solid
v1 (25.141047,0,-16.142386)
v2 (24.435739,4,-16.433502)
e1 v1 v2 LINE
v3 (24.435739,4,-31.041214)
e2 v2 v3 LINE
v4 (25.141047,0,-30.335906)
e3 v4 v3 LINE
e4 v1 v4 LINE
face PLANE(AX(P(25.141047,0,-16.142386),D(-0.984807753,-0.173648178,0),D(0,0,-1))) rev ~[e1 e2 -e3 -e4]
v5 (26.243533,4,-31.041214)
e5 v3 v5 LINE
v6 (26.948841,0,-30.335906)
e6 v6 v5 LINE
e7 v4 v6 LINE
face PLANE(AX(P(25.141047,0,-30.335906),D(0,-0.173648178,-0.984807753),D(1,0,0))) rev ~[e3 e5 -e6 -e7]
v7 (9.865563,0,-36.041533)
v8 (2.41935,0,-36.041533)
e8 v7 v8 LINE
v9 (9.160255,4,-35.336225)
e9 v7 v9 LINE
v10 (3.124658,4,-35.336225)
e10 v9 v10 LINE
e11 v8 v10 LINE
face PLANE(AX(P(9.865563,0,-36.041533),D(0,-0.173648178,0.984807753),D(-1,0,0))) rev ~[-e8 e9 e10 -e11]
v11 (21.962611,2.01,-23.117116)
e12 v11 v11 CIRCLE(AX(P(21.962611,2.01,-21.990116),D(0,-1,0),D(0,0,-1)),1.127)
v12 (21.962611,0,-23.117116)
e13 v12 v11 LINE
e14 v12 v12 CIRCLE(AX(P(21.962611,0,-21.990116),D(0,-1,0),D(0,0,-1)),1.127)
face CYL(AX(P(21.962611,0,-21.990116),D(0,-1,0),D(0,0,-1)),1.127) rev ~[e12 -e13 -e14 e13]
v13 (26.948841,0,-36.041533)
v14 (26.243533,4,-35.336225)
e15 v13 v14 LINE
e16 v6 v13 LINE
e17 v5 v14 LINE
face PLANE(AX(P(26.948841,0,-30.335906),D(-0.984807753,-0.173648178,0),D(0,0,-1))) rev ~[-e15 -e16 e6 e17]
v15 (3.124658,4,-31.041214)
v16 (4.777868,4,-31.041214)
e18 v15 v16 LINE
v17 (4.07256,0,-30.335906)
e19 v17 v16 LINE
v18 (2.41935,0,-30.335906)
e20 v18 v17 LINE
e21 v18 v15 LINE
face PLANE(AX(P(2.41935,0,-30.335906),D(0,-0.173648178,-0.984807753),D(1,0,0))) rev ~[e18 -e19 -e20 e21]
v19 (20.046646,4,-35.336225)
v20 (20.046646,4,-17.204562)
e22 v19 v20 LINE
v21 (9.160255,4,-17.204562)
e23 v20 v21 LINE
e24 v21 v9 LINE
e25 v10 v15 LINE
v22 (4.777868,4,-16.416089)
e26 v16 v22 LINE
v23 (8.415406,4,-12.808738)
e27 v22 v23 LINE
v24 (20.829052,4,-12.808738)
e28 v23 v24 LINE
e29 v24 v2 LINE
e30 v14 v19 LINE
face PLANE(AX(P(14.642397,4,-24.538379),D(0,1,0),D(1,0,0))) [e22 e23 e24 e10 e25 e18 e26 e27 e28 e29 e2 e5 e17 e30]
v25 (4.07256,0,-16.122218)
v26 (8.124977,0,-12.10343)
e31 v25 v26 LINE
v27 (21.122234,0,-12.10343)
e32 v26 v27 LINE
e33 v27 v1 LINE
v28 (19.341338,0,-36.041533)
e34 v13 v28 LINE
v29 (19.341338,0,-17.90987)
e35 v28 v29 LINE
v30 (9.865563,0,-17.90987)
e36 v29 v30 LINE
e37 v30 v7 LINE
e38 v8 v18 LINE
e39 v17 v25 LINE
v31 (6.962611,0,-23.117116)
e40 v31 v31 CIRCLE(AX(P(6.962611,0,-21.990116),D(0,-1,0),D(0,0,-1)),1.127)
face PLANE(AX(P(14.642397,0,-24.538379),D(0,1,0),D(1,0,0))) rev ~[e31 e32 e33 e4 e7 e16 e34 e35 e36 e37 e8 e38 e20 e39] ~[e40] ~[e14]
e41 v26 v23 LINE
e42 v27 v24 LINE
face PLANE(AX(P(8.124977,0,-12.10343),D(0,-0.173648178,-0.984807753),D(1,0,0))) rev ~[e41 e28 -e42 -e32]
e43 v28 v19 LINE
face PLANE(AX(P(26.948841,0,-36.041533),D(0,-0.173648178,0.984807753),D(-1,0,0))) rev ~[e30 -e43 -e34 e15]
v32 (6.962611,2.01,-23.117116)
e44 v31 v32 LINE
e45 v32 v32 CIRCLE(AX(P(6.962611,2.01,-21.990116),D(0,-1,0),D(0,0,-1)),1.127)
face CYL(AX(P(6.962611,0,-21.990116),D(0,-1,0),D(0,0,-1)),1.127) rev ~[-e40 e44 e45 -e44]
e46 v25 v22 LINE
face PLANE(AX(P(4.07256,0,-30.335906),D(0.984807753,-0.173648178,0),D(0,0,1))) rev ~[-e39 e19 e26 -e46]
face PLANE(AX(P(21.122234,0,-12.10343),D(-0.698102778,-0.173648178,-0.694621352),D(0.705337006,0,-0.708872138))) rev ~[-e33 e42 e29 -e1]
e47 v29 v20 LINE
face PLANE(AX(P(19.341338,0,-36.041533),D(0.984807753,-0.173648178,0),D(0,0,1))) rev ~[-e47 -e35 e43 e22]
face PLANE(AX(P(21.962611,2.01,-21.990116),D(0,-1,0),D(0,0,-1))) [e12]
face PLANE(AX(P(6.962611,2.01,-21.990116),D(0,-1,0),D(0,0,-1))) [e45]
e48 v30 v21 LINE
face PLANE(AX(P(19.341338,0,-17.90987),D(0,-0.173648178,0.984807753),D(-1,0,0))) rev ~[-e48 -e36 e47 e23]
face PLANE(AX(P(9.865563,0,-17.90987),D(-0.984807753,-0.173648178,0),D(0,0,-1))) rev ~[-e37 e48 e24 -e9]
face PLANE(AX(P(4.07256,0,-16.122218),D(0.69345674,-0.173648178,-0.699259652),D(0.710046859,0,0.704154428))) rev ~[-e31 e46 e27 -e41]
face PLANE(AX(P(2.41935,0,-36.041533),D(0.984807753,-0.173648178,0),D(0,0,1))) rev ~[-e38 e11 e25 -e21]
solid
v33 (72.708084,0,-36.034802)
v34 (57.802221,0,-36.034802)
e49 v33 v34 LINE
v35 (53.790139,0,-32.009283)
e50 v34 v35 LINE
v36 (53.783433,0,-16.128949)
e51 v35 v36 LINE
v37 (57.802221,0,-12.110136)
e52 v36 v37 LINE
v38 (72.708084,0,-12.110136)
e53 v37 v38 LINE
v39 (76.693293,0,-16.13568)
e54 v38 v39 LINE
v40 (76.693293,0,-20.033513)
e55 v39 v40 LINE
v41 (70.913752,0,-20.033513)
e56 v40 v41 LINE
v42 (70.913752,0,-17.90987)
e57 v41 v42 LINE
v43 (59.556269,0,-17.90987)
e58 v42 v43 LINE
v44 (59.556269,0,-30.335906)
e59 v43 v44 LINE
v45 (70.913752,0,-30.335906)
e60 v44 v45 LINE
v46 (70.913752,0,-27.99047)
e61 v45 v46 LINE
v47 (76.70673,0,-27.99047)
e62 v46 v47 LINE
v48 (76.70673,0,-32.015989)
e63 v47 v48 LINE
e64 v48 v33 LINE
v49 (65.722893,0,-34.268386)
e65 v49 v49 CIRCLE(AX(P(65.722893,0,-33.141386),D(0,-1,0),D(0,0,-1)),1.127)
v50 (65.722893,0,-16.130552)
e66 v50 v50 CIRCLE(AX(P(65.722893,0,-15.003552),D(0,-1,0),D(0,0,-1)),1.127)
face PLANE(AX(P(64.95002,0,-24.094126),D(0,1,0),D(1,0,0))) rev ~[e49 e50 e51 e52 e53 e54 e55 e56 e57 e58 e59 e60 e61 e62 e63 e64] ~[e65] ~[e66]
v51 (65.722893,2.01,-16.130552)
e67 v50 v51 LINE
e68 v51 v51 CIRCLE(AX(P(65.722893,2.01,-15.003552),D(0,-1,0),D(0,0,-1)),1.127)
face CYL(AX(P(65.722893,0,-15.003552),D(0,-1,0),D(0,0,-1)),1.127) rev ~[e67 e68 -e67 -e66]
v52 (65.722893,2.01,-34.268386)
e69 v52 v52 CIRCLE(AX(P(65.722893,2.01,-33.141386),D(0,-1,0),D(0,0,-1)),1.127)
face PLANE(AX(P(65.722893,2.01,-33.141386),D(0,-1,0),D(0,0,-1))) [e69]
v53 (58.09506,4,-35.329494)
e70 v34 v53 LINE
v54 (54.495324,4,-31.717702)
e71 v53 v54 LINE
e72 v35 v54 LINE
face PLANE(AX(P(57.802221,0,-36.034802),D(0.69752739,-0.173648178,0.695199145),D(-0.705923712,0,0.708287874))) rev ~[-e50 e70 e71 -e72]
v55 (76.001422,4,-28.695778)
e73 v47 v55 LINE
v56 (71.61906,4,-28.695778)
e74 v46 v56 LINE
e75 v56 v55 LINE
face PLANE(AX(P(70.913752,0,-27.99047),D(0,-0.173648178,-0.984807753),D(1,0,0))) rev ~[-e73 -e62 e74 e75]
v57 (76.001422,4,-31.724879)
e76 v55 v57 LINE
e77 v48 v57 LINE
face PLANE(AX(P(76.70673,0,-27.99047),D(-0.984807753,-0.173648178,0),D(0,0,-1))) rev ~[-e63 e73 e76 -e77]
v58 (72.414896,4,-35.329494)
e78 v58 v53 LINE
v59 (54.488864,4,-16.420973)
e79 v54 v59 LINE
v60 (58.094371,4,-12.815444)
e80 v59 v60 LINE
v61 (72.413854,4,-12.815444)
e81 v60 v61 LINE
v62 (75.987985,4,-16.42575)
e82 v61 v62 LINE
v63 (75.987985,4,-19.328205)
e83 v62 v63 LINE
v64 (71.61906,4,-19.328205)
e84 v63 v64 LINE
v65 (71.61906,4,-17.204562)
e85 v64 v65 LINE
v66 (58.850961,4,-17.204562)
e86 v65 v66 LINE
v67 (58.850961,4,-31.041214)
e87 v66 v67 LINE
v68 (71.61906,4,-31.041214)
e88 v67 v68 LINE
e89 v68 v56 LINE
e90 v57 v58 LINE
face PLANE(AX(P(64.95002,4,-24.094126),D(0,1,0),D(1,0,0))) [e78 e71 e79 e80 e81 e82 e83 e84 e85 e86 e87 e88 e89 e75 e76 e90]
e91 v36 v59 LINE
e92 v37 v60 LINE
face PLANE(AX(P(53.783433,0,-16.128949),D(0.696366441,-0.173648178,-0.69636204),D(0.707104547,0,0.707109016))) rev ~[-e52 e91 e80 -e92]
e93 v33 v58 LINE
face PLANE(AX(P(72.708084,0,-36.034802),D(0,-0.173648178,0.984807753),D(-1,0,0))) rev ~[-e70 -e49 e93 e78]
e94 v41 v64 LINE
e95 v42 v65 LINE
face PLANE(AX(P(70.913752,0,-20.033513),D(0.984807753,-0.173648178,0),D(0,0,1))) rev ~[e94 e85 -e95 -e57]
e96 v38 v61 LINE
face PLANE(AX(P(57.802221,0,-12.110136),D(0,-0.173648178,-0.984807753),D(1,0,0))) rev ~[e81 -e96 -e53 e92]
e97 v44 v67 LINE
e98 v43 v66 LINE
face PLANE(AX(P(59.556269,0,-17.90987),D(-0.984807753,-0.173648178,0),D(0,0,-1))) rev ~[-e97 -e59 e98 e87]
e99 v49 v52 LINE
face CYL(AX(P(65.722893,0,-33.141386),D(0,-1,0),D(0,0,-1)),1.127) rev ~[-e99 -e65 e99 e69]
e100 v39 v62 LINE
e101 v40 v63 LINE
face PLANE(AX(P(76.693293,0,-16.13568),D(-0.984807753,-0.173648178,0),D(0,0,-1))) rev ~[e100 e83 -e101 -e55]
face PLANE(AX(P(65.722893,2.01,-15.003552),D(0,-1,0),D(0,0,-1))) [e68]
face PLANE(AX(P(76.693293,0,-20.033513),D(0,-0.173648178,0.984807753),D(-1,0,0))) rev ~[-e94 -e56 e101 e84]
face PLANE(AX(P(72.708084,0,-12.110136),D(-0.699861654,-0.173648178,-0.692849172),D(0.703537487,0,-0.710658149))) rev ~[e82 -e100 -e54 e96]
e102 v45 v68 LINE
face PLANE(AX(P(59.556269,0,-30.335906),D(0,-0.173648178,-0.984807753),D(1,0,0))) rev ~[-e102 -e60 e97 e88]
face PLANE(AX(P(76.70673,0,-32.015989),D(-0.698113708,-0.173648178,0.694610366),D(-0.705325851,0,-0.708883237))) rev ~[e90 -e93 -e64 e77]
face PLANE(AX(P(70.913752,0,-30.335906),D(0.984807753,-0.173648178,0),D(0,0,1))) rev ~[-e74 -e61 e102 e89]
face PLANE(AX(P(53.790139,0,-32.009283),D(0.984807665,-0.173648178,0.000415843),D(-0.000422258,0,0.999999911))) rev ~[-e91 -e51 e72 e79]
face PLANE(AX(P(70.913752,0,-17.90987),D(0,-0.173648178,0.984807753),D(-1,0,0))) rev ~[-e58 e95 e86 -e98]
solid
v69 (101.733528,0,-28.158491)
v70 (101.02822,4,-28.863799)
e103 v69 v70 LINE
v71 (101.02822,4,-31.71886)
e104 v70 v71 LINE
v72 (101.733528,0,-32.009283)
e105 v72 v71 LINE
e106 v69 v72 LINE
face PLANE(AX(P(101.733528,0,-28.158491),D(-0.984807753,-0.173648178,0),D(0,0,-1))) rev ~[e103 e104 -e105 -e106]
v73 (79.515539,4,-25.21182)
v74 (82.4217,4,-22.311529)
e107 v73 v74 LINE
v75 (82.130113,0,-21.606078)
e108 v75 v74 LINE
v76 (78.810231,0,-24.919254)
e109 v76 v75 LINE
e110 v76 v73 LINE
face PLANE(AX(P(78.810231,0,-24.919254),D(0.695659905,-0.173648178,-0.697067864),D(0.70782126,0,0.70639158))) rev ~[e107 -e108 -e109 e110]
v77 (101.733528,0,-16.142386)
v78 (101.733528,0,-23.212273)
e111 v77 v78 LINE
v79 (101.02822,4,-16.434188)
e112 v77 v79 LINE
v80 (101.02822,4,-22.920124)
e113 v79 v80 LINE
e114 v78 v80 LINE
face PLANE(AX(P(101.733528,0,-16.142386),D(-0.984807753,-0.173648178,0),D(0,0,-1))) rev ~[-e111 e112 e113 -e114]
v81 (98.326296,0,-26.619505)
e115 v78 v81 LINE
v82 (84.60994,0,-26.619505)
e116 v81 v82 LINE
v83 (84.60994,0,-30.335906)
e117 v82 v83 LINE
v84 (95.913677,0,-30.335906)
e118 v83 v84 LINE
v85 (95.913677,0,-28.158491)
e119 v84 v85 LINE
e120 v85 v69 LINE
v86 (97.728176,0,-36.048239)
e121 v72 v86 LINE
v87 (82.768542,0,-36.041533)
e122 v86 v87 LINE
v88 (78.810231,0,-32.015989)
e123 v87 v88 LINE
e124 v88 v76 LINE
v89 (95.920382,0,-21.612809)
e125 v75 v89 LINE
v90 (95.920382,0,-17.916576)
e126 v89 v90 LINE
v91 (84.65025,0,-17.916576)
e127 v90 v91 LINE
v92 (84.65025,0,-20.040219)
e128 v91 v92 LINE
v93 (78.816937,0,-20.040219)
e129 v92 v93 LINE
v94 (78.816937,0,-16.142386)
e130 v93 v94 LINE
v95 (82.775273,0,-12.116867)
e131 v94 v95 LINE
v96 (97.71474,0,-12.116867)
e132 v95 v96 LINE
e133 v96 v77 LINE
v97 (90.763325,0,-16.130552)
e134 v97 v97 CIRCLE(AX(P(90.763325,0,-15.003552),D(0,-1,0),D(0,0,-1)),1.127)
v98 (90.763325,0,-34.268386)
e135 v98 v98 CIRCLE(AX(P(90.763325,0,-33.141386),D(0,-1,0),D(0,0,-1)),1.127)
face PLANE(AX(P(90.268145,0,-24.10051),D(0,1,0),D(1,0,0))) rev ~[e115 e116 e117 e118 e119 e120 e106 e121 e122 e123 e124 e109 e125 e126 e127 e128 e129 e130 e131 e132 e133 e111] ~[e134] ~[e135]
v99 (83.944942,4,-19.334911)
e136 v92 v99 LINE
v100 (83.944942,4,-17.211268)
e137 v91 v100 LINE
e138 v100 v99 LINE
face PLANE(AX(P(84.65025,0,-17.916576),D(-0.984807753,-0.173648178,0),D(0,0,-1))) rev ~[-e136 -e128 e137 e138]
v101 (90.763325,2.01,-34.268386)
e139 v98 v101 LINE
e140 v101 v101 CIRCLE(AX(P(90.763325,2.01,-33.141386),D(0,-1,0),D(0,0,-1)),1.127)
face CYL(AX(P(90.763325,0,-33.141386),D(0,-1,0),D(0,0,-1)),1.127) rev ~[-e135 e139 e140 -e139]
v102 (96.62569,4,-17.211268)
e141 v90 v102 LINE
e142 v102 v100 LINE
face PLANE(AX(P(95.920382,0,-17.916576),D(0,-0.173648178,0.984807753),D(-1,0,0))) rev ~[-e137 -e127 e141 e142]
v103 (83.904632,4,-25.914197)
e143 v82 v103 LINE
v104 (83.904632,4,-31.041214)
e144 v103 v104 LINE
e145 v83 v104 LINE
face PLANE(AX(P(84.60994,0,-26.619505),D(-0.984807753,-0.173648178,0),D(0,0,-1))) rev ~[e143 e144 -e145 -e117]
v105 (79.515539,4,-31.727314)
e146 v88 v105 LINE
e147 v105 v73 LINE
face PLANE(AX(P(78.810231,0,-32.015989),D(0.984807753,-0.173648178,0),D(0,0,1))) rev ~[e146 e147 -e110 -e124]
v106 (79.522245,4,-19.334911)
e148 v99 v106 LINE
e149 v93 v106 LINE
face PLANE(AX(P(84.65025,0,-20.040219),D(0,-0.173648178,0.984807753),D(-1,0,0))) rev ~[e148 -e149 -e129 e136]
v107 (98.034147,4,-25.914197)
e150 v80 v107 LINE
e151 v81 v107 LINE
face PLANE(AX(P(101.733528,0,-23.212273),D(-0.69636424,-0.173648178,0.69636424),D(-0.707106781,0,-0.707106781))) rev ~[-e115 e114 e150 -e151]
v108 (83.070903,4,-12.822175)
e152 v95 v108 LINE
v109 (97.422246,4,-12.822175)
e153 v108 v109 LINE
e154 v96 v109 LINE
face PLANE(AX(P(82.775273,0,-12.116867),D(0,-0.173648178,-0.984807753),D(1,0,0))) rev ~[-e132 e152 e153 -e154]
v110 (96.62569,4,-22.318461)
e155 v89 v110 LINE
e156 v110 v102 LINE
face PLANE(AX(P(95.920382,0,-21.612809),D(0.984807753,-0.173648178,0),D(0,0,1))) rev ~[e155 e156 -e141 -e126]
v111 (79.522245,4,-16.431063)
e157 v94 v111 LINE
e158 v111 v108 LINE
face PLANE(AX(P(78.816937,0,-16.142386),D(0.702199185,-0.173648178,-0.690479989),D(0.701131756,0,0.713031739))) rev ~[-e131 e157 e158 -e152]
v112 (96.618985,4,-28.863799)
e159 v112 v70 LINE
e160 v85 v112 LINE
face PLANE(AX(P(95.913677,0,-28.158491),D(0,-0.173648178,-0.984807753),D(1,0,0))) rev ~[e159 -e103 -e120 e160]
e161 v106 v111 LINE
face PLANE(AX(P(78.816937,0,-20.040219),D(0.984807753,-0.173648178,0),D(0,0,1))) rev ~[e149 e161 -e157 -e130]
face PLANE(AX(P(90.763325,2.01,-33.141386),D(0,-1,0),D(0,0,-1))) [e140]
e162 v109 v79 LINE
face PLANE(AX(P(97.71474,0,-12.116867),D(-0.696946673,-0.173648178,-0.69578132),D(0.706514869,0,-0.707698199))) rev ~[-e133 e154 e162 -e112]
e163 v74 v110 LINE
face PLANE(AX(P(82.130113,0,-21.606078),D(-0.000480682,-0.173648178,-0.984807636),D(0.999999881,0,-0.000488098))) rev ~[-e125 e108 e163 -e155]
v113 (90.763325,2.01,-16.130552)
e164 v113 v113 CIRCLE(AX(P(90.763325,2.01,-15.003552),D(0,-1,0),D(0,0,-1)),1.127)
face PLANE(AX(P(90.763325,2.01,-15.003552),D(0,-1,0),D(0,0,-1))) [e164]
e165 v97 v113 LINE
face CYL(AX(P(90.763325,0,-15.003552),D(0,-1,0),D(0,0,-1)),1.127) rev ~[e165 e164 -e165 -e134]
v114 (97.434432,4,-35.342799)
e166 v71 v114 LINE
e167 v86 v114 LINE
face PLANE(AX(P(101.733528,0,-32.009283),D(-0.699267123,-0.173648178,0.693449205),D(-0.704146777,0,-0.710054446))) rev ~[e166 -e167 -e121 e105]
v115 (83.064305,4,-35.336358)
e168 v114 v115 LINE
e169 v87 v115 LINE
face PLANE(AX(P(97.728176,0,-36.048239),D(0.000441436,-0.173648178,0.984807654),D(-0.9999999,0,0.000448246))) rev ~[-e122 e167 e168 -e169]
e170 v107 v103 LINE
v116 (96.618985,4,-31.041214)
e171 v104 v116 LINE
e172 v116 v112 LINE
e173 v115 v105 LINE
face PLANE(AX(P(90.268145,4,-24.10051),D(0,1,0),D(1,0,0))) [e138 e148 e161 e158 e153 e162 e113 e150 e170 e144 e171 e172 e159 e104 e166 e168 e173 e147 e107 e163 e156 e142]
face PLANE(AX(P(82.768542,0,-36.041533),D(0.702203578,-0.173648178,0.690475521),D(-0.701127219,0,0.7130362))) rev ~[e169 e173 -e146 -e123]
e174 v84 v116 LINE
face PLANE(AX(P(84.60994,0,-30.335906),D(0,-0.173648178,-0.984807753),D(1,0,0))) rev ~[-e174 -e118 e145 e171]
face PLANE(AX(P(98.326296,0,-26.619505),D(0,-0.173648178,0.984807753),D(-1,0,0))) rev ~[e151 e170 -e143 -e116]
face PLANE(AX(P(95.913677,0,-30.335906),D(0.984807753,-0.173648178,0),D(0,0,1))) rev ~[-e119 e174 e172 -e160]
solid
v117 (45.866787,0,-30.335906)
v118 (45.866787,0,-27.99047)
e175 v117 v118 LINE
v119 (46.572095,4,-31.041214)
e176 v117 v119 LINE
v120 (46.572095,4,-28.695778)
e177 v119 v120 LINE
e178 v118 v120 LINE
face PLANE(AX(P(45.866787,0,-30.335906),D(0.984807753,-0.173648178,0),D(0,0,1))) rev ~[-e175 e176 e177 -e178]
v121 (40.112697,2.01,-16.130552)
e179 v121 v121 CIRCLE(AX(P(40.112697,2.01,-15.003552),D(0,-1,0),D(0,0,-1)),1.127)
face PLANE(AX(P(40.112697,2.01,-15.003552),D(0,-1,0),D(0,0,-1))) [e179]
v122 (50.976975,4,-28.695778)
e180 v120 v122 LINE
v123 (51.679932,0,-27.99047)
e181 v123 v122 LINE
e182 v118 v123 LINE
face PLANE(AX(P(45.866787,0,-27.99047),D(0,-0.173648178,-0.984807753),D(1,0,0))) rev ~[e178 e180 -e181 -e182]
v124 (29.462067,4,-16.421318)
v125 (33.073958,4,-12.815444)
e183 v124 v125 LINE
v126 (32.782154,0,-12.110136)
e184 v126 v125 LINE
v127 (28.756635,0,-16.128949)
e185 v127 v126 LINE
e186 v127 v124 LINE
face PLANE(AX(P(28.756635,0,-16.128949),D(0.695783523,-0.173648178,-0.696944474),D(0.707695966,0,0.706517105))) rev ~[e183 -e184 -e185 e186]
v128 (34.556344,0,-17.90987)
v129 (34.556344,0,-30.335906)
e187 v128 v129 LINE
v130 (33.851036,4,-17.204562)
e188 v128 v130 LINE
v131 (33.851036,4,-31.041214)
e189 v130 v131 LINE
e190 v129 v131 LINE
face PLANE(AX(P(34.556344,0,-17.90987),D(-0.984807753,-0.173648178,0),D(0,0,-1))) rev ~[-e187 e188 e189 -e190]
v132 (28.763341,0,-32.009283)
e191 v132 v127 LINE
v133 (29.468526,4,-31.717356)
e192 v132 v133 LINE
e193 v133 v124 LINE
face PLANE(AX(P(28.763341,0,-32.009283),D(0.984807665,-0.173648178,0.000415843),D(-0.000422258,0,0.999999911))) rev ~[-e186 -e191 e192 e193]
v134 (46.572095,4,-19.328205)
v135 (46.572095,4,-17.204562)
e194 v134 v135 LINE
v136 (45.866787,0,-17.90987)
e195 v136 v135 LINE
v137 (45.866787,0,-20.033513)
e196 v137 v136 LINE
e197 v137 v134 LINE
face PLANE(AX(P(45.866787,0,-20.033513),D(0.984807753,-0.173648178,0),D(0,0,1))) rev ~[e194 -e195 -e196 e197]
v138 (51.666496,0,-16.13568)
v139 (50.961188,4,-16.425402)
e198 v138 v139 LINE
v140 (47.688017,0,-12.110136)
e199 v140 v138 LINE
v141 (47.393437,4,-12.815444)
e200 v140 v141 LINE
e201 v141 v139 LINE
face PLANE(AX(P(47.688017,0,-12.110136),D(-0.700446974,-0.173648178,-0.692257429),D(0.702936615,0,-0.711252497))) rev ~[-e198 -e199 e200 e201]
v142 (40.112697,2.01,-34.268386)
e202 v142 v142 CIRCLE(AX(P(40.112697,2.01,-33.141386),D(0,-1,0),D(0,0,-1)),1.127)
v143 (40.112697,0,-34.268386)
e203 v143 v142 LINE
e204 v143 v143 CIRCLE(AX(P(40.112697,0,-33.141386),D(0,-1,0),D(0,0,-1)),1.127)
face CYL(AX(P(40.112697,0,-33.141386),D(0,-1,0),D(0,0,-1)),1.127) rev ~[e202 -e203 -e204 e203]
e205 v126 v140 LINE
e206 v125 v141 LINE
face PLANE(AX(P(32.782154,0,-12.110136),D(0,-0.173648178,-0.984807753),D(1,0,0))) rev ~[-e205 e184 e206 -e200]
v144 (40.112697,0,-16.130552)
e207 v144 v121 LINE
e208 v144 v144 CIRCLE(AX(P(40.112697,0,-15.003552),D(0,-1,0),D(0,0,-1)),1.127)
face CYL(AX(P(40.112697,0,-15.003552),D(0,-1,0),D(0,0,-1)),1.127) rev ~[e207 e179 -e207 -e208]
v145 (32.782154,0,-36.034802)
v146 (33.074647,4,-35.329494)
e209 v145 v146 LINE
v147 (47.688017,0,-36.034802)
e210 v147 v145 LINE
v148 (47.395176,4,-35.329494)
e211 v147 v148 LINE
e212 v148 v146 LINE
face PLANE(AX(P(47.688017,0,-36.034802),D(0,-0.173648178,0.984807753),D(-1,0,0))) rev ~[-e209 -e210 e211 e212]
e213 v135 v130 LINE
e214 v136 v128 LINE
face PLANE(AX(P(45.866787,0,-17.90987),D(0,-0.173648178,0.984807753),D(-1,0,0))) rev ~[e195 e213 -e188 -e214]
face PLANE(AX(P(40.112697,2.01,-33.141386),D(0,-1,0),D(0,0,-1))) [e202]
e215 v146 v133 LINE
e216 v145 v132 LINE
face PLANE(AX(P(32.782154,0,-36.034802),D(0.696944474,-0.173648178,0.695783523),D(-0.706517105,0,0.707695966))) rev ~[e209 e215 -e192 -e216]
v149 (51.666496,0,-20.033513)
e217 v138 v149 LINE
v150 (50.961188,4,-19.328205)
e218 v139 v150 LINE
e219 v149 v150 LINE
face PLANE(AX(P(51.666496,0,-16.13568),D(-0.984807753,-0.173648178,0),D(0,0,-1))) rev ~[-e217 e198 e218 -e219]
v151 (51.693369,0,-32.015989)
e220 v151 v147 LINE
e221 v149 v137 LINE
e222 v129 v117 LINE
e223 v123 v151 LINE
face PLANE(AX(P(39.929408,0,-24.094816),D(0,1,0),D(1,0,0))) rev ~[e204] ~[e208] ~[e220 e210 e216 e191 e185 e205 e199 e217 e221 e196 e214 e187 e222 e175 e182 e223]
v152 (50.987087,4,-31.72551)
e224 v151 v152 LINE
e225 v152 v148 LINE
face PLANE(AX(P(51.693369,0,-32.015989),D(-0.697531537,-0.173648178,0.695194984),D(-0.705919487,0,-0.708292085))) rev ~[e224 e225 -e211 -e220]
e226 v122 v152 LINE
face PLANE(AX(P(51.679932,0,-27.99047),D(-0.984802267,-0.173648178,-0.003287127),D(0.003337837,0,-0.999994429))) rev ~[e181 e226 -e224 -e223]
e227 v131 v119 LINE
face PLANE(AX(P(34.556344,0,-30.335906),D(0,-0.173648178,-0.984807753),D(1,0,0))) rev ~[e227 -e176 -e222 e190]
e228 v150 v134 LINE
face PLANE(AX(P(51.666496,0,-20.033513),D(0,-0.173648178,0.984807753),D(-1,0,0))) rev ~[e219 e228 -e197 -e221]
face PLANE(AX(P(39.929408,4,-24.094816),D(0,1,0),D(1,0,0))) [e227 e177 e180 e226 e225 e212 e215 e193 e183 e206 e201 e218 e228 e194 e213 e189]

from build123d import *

# Parameters (mm, degrees)
BOSS_EXTRUDE1_DEPTH           = 4
BOSS_EXTRUDE1_DRAFT           = 10
BOSS_EXTRUDE1_PROFILE_2_DEPTH = 4
BOSS_EXTRUDE1_PROFILE_2_DRAFT = 10
BOSS_EXTRUDE1_PROFILE_3_DEPTH = 4
BOSS_EXTRUDE1_PROFILE_3_DRAFT = 10
BOSS_EXTRUDE1_PROFILE_4_DEPTH = 4
BOSS_EXTRUDE1_PROFILE_4_DRAFT = 10
SKETCH3_R                     = 1.127
CUT_EXTRUDE1_DEPTH            = 2.01


with BuildPart() as part:
    # Sketch2 → Boss-Extrude1 (with draft: the straight prism first)
    with BuildSketch(Plane(origin=(0, 0, 0), x_dir=(1, 0, 0), z_dir=(0, 1, 0))):
        Polygon((97.7281764, 36.0482388), (82.7685416, 36.0415332), (78.810231, 32.0159888), (78.810231, 24.9192542), (82.1301126, 21.6060782), (95.9203822, 21.6128092), (95.9203822, 17.9165758), (84.6502498, 17.9165758), (84.6502498, 20.040219), (78.8169366, 20.040219), (78.8169366, 16.1423858), (82.7752726, 12.1168668), (97.7147398, 12.1168668), (101.7335278, 16.1423858), (101.7335278, 23.2122726), (98.3262956, 26.6195048), (84.60994, 26.6195048), (84.60994, 30.3359058), (95.9136766, 30.3359058), (95.9136766, 28.1584908), (101.7335278, 28.1584908), (101.7335278, 32.0092832), align=None)
    extrude(amount=BOSS_EXTRUDE1_DEPTH)
    # Boss-Extrude1: the draft: its side faces are tilted about the plane it starts from
    boss_extrude1_sides = [part.faces().sort_by_distance(p)[0] for p in [
        (90.248359, 2, -36.044886),
        (80.7893863, 2, -34.028761),
        (78.810231, 2, -28.4676215),
        (80.4701718, 2, -23.2626662),
        (89.0252474, 2, -21.6094437),
        (95.9203822, 2, -19.7646925),
        (90.285316, 2, -17.9165758),
        (84.6502498, 2, -18.9783974),
        (81.7335932, 2, -20.040219),
        (78.8169366, 2, -18.0913024),
        (80.7961046, 2, -14.1296263),
        (90.2450062, 2, -12.1168668),
        (99.7241338, 2, -14.1296263),
        (101.7335278, 2, -19.6773292),
        (100.0299117, 2, -24.9158887),
        (91.4681178, 2, -26.6195048),
        (84.60994, 2, -28.4777053),
        (90.2618083, 2, -30.3359058),
        (95.9136766, 2, -29.2471983),
        (98.8236022, 2, -28.1584908),
        (101.7335278, 2, -30.083887),
        (99.7308521, 2, -34.028761),
    ]]
    draft(boss_extrude1_sides, Plane(origin=(0, 0, 0), x_dir=(1, 0, 0), z_dir=(0, 1, 0)), BOSS_EXTRUDE1_DRAFT)


with BuildPart() as body_2:
    # Sketch2 → Boss-Extrude1 profile 2 (with draft: the straight prism first)
    with BuildSketch(Plane(origin=(0, 0, 0), x_dir=(1, 0, 0), z_dir=(0, 1, 0))):
        Polygon((72.7080842, 36.0348022), (57.8022212, 36.0348022), (53.7901388, 32.0092832), (53.7834332, 16.1289492), (57.8022212, 12.1101358), (72.7080842, 12.1101358), (76.6932934, 16.1356802), (76.6932934, 20.0335134), (70.913752, 20.0335134), (70.913752, 17.9098702), (59.556269, 17.9098702), (59.556269, 30.3359058), (70.913752, 30.3359058), (70.913752, 27.9904698), (76.70673, 27.9904698), (76.70673, 32.0159888), align=None)
    extrude(amount=BOSS_EXTRUDE1_PROFILE_2_DEPTH)
    # Boss-Extrude1 profile 2: the draft: its side faces are tilted about the plane it starts from
    boss_extrude1_profile_2_sides = [body_2.faces().sort_by_distance(p)[0] for p in [
        (65.2551527, 2, -36.0348022),
        (55.79618, 2, -34.0220427),
        (53.786786, 2, -24.0691162),
        (55.7928272, 2, -14.1195425),
        (65.2551527, 2, -12.1101358),
        (74.7006888, 2, -14.122908),
        (76.6932934, 2, -18.0845968),
        (73.8035227, 2, -20.0335134),
        (70.913752, 2, -18.9716918),
        (65.2350105, 2, -17.9098702),
        (59.556269, 2, -24.122888),
        (65.2350105, 2, -30.3359058),
        (70.913752, 2, -29.1631878),
        (73.810241, 2, -27.9904698),
        (76.70673, 2, -30.0032293),
        (74.7074071, 2, -34.0253955),
    ]]
    draft(boss_extrude1_profile_2_sides, Plane(origin=(0, 0, 0), x_dir=(1, 0, 0), z_dir=(0, 1, 0)), BOSS_EXTRUDE1_PROFILE_2_DRAFT)


with BuildPart() as body_3:
    # Sketch2 → Boss-Extrude1 profile 3 (with draft: the straight prism first)
    with BuildSketch(Plane(origin=(0, 0, 0), x_dir=(1, 0, 0), z_dir=(0, 1, 0))):
        Polygon((47.6880174, 36.0348022), (32.7821544, 36.0348022), (28.763341, 32.0092832), (28.7566354, 16.1289492), (32.7821544, 12.1101358), (47.6880174, 12.1101358), (51.6664956, 16.1356802), (51.6664956, 20.0335134), (45.8667866, 20.0335134), (45.8667866, 17.9098702), (34.5563444, 17.9098702), (34.5563444, 30.3359058), (45.8667866, 30.3359058), (45.8667866, 27.9904698), (51.6799322, 27.9904698), (51.6933688, 32.0159888), align=None)
    extrude(amount=BOSS_EXTRUDE1_PROFILE_3_DEPTH)
    # Boss-Extrude1 profile 3: the draft: its side faces are tilted about the plane it starts from
    boss_extrude1_profile_3_sides = [body_3.faces().sort_by_distance(p)[0] for p in [
        (40.2350859, 2, -36.0348022),
        (30.7727477, 2, -34.0220427),
        (28.7599882, 2, -24.0691162),
        (30.7693949, 2, -14.1195425),
        (40.2350859, 2, -12.1101358),
        (49.6772565, 2, -14.122908),
        (51.6664956, 2, -18.0845968),
        (48.7666411, 2, -20.0335134),
        (45.8667866, 2, -18.9716918),
        (40.2115655, 2, -17.9098702),
        (34.5563444, 2, -24.122888),
        (40.2115655, 2, -30.3359058),
        (45.8667866, 2, -29.1631878),
        (48.7733594, 2, -27.9904698),
        (51.6866505, 2, -30.0032293),
        (49.6906931, 2, -34.0253955),
    ]]
    draft(boss_extrude1_profile_3_sides, Plane(origin=(0, 0, 0), x_dir=(1, 0, 0), z_dir=(0, 1, 0)), BOSS_EXTRUDE1_PROFILE_3_DRAFT)


with BuildPart() as body_4:
    # Sketch2 → Boss-Extrude1 profile 4 (with draft: the straight prism first)
    with BuildSketch(Plane(origin=(0, 0, 0), x_dir=(1, 0, 0), z_dir=(0, 1, 0))):
        Polygon((26.9488412, 36.0415332), (19.341338, 36.0415332), (19.341338, 17.9098702), (9.8655632, 17.9098702), (9.8655632, 36.0415332), (2.41935, 36.0415332), (2.41935, 30.3359058), (4.0725598, 30.3359058), (4.0725598, 16.1222182), (8.1249774, 12.1034302), (21.1222336, 12.1034302), (25.141047, 16.1423858), (25.141047, 30.3359058), (26.9488412, 30.3359058), align=None)
    extrude(amount=BOSS_EXTRUDE1_PROFILE_4_DEPTH)
    # Boss-Extrude1 profile 4: the draft: its side faces are tilted about the plane it starts from
    boss_extrude1_profile_4_sides = [body_4.faces().sort_by_distance(p)[0] for p in [
        (23.1450896, 2, -36.0415332),
        (19.341338, 2, -26.9757017),
        (14.6034506, 2, -17.9098702),
        (9.8655632, 2, -26.9757017),
        (6.1424566, 2, -36.0415332),
        (2.41935, 2, -33.1887195),
        (3.2459549, 2, -30.3359058),
        (4.0725598, 2, -23.229062),
        (6.0987686, 2, -14.1128242),
        (14.6236055, 2, -12.1034302),
        (23.1316403, 2, -14.122908),
        (25.141047, 2, -23.2391458),
        (26.0449441, 2, -30.3359058),
        (26.9488412, 2, -33.1887195),
    ]]
    draft(boss_extrude1_profile_4_sides, Plane(origin=(0, 0, 0), x_dir=(1, 0, 0), z_dir=(0, 1, 0)), BOSS_EXTRUDE1_PROFILE_4_DRAFT)


with BuildPart() as cut_extrude1_tool:
    # Sketch3 → Cut-Extrude1 (new body)
    with BuildSketch(Plane.XZ):
        with Locations(Location((90.763324993, -33.141385623, 0), (0, 0, 270))):
            Circle(SKETCH3_R)
        with Locations(Location((90.763324993, -15.003552377, 0), (0, 0, 270))):
            Circle(SKETCH3_R)
        with Locations(Location((65.722893132, -15.003552377, 0), (0, 0, 270))):
            Circle(SKETCH3_R)
        with Locations(Location((65.722893132, -33.141385623, 0), (0, 0, 270))):
            Circle(SKETCH3_R)
        with Locations(Location((40.112697061, -33.141385623, 0), (0, 0, 270))):
            Circle(SKETCH3_R)
        with Locations(Location((40.112697061, -15.003552377, 0), (0, 0, 270))):
            Circle(SKETCH3_R)
        with Locations(Location((21.962610877, -21.990115777, 0), (0, 0, 270))):
            Circle(SKETCH3_R)
        with Locations(Location((6.962610877, -21.990115777, 0), (0, 0, 270))):
            Circle(SKETCH3_R)
    extrude(amount=-CUT_EXTRUDE1_DEPTH)


with BuildPart() as part_1:
    add(part.part)

    # Cut-Extrude1: cut by cut_extrude1_tool
    add(cut_extrude1_tool.part, mode=Mode.SUBTRACT)


with BuildPart() as body_2_1:
    add(body_2.part)

    # Cut-Extrude1: cut by cut_extrude1_tool
    add(cut_extrude1_tool.part, mode=Mode.SUBTRACT)


with BuildPart() as body_3_1:
    add(body_3.part)

    # Cut-Extrude1: cut by cut_extrude1_tool
    add(cut_extrude1_tool.part, mode=Mode.SUBTRACT)


with BuildPart() as body_4_1:
    add(body_4.part)

    # Cut-Extrude1: cut by cut_extrude1_tool
    add(cut_extrude1_tool.part, mode=Mode.SUBTRACT)


solid = Compound([part_1.part, body_2_1.part, body_3_1.part, body_4_1.part])
